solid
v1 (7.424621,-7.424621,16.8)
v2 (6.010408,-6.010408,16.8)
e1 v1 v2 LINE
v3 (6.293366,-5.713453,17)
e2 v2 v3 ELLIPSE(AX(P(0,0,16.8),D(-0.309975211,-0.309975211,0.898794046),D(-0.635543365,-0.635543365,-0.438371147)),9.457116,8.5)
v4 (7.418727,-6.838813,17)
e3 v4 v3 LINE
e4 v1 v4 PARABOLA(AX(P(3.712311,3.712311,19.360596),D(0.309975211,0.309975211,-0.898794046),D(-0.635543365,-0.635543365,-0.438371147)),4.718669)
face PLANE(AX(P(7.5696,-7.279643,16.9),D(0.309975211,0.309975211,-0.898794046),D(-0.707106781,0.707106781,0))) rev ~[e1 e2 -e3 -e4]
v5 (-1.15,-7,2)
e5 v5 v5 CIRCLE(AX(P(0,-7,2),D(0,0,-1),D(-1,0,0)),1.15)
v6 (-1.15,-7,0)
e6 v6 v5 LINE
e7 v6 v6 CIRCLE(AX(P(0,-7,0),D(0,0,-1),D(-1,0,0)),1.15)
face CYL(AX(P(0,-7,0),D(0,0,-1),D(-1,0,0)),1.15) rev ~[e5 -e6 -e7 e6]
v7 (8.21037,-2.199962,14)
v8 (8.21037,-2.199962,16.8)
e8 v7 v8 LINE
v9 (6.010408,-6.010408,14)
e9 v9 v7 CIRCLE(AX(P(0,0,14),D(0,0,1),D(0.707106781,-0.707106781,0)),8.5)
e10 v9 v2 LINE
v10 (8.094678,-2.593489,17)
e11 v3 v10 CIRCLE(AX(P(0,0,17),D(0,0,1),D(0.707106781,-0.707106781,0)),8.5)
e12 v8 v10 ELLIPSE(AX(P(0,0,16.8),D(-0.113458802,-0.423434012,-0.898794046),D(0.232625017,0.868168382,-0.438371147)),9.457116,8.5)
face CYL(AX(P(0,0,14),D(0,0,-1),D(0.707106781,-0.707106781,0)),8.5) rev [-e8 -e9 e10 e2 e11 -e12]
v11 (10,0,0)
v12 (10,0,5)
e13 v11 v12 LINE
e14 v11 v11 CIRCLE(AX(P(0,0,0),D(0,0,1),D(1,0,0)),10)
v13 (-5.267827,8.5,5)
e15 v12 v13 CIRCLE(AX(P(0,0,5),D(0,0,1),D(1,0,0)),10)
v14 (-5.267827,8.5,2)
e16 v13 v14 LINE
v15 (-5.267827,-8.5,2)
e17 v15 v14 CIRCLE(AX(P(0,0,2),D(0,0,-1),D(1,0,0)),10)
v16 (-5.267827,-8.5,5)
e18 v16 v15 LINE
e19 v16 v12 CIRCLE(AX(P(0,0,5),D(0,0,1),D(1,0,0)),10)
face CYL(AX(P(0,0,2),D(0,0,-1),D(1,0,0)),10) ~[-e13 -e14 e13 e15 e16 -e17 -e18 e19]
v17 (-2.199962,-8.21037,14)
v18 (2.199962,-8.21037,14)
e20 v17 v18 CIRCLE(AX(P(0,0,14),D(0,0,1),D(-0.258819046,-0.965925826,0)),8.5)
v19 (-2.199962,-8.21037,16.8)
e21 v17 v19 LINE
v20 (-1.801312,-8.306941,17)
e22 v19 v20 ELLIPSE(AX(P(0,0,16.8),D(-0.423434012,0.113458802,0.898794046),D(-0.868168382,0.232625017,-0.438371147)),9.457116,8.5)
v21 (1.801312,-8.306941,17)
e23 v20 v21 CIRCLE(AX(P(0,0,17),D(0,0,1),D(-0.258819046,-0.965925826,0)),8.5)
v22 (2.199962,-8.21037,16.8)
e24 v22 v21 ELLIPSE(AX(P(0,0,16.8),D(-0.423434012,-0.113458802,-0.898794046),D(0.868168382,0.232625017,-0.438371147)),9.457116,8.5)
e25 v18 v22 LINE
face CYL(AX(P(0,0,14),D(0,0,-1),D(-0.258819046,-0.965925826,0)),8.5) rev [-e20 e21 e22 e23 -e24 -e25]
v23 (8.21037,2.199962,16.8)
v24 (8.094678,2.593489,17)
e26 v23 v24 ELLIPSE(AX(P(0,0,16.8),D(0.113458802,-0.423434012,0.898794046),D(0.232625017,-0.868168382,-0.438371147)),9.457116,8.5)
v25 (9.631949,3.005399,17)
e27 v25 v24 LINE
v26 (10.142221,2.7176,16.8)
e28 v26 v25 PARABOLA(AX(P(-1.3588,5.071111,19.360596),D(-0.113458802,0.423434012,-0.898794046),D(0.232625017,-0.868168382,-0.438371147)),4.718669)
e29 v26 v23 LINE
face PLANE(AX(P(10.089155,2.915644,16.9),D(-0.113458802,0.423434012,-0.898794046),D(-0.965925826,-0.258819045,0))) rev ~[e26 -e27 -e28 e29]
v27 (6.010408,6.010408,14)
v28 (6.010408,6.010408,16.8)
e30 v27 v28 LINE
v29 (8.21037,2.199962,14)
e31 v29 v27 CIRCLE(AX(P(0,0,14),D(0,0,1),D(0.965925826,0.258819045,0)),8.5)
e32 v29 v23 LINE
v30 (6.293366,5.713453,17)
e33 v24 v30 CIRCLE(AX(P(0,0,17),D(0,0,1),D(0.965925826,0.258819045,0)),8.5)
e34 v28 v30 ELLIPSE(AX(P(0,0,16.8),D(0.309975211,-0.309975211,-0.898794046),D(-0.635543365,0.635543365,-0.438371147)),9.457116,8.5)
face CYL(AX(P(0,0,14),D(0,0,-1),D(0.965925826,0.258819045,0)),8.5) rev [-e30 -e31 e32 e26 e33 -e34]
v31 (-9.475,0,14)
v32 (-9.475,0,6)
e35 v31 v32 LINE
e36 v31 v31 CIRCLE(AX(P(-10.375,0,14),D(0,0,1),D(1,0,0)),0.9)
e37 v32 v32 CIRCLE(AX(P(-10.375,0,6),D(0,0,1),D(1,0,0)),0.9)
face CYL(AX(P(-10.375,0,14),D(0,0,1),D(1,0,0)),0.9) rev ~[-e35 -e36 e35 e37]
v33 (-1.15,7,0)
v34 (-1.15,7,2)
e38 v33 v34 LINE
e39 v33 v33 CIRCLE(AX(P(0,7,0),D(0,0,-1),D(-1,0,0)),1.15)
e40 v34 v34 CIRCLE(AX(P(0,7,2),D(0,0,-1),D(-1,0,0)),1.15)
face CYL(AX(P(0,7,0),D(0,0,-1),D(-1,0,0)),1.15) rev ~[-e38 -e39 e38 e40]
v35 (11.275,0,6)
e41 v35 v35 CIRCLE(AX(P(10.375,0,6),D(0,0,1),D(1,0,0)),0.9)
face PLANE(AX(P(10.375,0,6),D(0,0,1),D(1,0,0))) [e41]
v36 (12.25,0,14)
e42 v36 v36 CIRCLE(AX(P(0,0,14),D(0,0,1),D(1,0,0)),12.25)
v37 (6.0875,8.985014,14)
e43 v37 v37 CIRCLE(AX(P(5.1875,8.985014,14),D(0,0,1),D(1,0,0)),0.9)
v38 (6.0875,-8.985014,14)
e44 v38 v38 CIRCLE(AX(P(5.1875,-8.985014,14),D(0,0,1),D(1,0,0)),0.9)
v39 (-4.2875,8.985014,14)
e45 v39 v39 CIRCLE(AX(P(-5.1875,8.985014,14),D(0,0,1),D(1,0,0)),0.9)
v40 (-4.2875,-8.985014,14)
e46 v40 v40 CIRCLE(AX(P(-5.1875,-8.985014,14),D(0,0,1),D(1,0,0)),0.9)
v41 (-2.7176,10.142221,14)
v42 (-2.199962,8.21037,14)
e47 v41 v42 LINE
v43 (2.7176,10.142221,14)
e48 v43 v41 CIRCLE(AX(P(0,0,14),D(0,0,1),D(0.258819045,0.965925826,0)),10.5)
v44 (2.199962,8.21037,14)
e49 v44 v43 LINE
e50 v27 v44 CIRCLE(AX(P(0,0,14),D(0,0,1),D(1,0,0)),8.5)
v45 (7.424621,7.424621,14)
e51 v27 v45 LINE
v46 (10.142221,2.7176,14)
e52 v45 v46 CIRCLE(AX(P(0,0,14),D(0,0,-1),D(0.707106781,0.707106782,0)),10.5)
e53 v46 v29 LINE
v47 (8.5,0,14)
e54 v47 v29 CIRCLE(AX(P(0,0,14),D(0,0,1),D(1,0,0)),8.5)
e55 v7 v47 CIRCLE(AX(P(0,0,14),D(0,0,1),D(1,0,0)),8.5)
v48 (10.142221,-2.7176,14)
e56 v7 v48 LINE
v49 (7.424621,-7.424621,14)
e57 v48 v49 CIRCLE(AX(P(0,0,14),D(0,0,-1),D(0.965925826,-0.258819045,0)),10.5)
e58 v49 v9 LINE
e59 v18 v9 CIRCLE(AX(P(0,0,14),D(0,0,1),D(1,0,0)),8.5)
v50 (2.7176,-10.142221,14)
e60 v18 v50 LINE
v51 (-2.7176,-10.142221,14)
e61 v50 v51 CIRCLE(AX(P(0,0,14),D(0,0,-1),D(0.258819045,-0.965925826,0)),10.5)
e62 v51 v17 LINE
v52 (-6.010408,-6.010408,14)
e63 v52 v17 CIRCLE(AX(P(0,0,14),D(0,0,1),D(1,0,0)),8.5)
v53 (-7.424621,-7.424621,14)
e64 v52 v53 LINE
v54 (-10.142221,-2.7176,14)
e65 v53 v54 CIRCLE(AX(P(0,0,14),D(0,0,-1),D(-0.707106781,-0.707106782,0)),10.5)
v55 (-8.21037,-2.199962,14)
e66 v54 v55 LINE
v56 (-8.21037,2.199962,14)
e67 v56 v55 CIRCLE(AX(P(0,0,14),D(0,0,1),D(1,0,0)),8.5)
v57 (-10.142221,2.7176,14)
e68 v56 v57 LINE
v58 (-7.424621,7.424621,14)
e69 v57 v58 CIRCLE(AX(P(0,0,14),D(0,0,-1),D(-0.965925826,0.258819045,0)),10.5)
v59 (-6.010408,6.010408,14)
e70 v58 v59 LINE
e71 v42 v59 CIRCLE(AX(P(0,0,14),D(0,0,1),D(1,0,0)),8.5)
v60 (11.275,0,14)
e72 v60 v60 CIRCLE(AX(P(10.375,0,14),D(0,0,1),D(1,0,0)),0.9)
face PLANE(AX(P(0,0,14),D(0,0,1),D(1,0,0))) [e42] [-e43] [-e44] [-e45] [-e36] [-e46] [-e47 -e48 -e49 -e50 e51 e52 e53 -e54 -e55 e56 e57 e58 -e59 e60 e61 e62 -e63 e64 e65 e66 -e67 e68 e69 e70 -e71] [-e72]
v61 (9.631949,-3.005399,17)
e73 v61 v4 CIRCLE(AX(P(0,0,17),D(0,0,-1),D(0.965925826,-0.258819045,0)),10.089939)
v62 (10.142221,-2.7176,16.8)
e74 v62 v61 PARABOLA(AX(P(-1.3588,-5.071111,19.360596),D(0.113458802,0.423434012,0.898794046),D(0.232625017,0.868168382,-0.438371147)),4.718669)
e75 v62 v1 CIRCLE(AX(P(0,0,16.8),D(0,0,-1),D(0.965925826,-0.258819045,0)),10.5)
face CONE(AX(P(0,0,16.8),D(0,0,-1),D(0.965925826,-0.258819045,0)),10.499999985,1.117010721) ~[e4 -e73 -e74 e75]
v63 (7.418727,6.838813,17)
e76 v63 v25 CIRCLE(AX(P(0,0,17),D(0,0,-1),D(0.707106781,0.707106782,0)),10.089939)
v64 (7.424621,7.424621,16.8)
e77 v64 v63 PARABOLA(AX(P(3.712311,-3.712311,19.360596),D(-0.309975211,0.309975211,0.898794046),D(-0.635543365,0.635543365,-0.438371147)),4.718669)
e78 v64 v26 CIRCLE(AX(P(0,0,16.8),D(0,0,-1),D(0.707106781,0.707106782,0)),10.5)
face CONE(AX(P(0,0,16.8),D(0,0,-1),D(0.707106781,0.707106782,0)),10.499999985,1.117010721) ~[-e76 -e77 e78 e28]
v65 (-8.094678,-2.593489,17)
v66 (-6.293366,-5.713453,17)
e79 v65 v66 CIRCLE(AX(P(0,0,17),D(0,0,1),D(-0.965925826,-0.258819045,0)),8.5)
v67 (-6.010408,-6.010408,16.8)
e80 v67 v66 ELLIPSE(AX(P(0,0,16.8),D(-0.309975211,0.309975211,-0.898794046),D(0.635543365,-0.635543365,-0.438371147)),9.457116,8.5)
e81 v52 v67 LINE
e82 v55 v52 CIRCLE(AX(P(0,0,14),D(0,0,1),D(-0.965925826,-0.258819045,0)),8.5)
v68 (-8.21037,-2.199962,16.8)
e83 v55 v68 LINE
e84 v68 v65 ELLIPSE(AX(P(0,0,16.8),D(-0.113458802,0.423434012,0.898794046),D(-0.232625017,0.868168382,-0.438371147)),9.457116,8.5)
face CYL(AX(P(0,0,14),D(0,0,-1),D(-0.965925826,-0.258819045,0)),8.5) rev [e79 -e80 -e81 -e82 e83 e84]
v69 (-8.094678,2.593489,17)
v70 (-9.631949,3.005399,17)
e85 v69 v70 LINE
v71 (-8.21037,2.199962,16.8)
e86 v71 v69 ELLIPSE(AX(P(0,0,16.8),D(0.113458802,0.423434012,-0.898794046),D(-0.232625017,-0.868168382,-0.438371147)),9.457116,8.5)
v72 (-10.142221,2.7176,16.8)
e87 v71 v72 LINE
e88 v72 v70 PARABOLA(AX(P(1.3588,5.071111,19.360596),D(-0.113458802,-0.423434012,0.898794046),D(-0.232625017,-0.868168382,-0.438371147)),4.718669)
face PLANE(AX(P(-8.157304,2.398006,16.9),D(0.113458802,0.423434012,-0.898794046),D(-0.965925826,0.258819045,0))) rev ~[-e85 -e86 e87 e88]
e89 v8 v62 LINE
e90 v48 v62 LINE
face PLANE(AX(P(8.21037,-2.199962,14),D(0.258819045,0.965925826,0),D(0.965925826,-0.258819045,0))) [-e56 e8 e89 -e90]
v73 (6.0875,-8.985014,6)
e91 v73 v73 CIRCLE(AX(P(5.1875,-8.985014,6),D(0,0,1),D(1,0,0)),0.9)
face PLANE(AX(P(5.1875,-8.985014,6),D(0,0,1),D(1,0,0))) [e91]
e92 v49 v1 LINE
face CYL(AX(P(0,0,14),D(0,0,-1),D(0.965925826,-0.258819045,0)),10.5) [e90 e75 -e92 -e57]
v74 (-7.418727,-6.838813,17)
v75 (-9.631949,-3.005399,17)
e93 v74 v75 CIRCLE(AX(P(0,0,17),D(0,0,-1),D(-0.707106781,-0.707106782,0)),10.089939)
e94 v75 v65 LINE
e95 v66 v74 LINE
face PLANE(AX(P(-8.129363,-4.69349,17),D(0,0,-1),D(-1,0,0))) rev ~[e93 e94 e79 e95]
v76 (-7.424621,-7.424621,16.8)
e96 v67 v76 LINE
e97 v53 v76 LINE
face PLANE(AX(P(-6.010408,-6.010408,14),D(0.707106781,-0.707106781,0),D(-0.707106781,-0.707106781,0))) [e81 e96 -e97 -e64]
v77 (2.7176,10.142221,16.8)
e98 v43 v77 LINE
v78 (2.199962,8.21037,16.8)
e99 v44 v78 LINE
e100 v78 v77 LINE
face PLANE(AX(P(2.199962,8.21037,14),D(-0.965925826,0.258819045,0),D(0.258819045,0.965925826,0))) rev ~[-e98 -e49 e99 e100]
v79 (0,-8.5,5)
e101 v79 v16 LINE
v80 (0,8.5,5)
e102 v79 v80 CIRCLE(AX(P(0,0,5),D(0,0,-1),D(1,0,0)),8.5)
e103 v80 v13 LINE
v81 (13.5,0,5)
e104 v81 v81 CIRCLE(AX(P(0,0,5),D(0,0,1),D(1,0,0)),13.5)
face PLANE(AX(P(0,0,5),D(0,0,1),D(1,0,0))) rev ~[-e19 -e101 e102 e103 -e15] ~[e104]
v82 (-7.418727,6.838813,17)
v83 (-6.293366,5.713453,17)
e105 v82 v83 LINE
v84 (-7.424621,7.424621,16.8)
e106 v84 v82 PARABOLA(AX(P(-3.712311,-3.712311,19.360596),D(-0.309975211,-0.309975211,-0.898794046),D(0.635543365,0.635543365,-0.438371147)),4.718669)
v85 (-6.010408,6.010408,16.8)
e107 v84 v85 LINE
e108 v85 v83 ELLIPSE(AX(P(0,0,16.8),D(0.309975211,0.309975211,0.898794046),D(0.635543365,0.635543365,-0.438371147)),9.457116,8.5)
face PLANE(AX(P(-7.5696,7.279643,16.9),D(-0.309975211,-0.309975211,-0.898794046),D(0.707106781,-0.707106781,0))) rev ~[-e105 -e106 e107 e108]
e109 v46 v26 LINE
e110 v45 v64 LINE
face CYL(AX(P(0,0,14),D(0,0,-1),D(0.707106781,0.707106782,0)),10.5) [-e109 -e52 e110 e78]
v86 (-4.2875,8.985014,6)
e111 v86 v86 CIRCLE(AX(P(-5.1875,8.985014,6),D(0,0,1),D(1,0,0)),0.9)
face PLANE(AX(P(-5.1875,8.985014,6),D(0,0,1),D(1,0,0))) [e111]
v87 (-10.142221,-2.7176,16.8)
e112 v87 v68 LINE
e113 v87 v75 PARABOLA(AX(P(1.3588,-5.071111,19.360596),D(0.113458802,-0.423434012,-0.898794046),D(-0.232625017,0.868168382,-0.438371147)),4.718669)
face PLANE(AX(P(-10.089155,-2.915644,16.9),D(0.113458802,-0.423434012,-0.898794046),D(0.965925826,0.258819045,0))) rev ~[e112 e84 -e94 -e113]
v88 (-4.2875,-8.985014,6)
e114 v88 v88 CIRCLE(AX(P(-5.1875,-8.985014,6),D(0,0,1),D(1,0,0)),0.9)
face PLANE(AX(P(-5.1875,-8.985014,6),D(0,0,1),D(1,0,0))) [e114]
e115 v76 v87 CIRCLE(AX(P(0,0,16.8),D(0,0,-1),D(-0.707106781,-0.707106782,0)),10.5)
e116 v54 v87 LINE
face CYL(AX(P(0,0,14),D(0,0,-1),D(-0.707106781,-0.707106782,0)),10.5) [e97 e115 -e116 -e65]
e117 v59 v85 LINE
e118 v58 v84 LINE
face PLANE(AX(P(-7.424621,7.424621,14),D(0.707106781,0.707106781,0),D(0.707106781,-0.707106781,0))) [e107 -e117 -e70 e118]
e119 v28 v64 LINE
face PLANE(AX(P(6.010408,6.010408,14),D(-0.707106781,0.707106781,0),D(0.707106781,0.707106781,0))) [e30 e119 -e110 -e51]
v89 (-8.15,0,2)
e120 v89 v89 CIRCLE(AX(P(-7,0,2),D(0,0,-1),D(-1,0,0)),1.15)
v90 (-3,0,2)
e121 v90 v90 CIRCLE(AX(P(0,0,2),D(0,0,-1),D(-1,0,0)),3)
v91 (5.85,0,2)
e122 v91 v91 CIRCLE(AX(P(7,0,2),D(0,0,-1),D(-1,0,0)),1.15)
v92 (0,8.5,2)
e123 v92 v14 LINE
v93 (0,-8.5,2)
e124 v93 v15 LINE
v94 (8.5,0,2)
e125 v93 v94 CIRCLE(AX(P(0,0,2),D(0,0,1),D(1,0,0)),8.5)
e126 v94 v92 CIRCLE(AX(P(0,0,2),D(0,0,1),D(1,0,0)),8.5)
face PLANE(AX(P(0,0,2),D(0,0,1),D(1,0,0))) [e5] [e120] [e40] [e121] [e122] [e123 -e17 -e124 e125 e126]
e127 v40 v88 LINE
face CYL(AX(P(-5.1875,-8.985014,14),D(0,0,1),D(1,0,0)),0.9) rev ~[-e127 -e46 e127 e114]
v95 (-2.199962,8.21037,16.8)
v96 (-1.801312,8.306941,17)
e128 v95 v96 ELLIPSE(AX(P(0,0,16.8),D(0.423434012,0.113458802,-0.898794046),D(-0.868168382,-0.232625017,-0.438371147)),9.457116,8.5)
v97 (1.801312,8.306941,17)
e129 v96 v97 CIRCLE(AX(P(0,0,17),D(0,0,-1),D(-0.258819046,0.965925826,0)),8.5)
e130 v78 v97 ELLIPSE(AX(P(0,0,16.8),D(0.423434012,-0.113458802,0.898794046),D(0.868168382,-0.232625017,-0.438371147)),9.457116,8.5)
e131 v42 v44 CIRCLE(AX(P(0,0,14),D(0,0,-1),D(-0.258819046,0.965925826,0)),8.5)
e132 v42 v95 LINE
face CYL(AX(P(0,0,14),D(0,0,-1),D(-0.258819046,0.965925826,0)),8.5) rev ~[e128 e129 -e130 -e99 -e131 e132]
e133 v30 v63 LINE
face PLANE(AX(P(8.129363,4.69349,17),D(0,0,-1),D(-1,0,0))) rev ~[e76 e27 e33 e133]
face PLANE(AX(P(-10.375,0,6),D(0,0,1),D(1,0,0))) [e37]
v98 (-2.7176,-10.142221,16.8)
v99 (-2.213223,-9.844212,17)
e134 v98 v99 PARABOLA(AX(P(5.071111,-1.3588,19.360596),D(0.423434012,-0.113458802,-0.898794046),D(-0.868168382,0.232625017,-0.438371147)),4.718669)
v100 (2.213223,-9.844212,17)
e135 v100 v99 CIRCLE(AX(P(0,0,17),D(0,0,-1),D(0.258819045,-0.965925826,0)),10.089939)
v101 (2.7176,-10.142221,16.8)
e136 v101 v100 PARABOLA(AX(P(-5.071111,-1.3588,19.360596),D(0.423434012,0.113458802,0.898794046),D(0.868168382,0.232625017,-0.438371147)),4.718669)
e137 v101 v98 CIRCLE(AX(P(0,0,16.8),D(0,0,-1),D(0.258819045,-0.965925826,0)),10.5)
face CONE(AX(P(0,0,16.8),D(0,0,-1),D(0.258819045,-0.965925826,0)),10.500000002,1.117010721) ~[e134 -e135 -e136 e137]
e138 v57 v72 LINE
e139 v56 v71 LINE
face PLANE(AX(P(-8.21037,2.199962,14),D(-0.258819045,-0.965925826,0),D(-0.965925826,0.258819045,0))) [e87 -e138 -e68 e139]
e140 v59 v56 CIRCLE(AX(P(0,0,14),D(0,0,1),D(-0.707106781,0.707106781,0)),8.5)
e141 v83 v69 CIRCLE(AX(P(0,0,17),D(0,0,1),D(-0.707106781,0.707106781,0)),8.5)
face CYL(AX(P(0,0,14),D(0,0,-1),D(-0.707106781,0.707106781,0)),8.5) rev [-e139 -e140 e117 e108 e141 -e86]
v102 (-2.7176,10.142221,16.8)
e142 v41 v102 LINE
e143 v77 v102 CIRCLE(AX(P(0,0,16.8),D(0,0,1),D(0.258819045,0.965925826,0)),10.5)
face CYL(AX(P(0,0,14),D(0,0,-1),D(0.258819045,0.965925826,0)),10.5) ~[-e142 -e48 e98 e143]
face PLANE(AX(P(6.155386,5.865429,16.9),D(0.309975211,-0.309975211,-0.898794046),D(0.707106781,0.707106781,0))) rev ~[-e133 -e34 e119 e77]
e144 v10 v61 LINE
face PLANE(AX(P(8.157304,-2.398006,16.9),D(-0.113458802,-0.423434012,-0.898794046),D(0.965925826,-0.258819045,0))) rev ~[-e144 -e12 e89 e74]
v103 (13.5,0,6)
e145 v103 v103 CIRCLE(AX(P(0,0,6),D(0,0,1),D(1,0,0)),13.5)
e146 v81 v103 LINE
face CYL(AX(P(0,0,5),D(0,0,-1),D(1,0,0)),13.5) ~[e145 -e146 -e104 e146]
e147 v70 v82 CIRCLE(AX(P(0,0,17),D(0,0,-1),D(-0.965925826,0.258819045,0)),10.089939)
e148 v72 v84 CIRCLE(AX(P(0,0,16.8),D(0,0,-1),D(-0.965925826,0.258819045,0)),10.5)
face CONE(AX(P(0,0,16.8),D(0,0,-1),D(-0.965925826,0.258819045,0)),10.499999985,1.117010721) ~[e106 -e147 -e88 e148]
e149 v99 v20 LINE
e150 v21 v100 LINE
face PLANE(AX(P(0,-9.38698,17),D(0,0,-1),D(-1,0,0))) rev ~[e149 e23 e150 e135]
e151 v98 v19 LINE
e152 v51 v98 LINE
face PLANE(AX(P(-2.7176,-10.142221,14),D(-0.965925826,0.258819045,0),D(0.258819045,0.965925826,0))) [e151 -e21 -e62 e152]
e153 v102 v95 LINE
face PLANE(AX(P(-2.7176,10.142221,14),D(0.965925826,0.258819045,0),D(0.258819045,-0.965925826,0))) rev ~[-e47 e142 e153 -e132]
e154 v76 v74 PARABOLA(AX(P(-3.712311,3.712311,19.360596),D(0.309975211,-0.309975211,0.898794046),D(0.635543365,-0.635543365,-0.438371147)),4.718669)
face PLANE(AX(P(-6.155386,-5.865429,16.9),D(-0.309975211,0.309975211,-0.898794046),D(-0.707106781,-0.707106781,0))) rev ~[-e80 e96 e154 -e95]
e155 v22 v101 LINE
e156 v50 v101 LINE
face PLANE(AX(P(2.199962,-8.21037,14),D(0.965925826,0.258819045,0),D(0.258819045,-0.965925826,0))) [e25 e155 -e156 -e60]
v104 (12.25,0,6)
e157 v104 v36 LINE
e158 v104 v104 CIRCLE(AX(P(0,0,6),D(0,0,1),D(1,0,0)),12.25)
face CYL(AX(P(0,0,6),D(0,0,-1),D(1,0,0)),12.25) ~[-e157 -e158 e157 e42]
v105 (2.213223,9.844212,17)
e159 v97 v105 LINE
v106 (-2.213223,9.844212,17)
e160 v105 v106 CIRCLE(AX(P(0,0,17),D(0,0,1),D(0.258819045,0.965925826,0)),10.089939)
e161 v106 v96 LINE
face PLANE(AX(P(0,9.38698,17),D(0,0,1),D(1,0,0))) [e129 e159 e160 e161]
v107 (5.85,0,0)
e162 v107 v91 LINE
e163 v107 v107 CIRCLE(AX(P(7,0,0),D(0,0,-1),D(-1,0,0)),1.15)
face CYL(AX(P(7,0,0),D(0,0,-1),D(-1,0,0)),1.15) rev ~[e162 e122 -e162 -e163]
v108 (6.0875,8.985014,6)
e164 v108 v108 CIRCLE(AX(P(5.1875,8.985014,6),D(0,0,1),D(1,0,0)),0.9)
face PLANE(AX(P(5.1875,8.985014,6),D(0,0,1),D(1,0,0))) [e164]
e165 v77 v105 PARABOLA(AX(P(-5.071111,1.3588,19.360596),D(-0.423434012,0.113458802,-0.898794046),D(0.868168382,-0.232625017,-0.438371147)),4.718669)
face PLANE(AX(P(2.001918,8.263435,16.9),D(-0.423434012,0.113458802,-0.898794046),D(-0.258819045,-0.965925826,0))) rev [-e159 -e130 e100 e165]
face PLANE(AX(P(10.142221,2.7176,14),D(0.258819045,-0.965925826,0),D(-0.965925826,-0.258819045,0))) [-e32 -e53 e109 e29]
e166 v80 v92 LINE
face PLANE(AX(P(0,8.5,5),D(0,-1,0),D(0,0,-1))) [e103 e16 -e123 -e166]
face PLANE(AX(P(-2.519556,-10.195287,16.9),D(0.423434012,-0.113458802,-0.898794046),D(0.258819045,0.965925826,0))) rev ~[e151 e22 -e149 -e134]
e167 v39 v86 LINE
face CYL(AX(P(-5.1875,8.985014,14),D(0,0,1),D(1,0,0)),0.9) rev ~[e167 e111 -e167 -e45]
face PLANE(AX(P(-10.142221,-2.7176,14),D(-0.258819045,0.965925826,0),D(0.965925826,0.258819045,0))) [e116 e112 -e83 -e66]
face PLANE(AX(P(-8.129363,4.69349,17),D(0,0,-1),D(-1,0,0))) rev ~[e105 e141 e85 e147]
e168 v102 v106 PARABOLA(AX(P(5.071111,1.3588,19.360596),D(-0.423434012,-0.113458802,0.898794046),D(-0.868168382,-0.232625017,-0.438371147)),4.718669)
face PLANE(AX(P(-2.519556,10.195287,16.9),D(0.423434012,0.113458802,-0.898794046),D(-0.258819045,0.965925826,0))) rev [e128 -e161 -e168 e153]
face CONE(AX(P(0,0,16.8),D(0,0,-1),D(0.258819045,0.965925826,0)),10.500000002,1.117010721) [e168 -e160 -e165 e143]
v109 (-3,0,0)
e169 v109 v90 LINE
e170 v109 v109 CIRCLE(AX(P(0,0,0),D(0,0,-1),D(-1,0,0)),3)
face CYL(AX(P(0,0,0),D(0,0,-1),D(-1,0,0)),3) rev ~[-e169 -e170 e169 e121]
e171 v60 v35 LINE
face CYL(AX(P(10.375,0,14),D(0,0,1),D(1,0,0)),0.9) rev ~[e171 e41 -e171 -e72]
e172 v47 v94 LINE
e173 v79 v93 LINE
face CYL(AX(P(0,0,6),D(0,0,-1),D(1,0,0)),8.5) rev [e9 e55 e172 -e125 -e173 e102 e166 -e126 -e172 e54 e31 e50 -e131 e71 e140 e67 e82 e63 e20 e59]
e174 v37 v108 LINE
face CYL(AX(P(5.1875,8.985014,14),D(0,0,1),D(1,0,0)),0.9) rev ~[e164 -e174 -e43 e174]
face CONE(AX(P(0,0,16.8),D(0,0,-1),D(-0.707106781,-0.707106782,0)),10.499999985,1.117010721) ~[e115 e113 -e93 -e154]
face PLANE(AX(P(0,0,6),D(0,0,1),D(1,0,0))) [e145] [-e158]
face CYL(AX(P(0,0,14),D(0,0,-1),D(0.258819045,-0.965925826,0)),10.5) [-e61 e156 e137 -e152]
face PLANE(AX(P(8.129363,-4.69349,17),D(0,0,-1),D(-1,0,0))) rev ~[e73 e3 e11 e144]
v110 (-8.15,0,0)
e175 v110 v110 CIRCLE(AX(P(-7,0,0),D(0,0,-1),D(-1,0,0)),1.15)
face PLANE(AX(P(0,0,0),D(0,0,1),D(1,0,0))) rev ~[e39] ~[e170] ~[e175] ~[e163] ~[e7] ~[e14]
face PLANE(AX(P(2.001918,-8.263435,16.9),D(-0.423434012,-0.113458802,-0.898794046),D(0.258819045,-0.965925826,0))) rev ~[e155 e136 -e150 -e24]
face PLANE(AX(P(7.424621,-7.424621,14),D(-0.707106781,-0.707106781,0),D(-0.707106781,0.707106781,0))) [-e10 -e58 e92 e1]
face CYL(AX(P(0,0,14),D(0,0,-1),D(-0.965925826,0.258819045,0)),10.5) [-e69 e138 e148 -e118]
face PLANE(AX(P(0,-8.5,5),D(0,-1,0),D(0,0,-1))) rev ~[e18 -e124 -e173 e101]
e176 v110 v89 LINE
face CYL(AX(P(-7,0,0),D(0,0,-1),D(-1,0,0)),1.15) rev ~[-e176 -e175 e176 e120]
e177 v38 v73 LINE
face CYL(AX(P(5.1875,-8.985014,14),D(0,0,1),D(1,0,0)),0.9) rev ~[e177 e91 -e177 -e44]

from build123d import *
from OCP.BRepFilletAPI import BRepFilletAPI_MakeChamfer

# Parameters (mm, degrees)
SKETCH_1_R          = 10
EXTRUDE_1_DEPTH     = 2
SKETCH_2_R          = 10
SKETCH_2_R_2        = 8.5
EXTRUDE_2_DEPTH     = 3
SKETCH_4_R          = 13.5
SKETCH_4_R_2        = 8.5
EXTRUDE_3_DEPTH     = 1
SKETCH_5_R          = 12.25
SKETCH_5_R_2        = 8.5
EXTRUDE_4_DEPTH     = 8
SKETCH_6_R          = 0.9
CUT_EXTRUDE_1_DEPTH = 8
SKETCH_7_R          = 3
SKETCH_7_R_2        = 1.15
CUT_EXTRUDE_2_DEPTH = 24.674881204
SKETCH_9_W          = 3
SKETCH_9_H          = 17
CUT_EXTRUDE_4_DEPTH = 24.674881204
EXTRUDE_5_DEPTH     = 3
CHAMFER_1_SIZE      = 0.2
CHAMFER_1_SIZE2     = 0.410060768


with BuildPart() as part:
    # 스케치1 → 보스-돌출1 (new body)
    with BuildSketch(Plane.XY):
        Circle(SKETCH_1_R)
    extrude(amount=EXTRUDE_1_DEPTH)

    # 스케치2 → 보스-돌출2 (add)
    with BuildSketch(Plane.XY.offset(2)):
        Circle(SKETCH_2_R)
        Circle(SKETCH_2_R_2, mode=Mode.SUBTRACT)
    extrude(amount=EXTRUDE_2_DEPTH)

    # 스케치4 → 보스-돌출3 (add)
    with BuildSketch(Plane.XY.offset(5)):
        Circle(SKETCH_4_R)
        Circle(SKETCH_4_R_2, mode=Mode.SUBTRACT)
    extrude(amount=EXTRUDE_3_DEPTH)

    # 스케치5 → 보스-돌출4 (add)
    with BuildSketch(Plane.XY.offset(6)):
        Circle(SKETCH_5_R)
        Circle(SKETCH_5_R_2, mode=Mode.SUBTRACT)
    extrude(amount=EXTRUDE_4_DEPTH)

    # 스케치6 → 컷-돌출1 (cut)
    with BuildSketch(Plane.XY.offset(14)):
        with Locations((10.375, 0)):
            Circle(SKETCH_6_R)
        with Locations((5.1875, -8.985013564)):
            Circle(SKETCH_6_R)
        with Locations((-5.1875, -8.985013564)):
            Circle(SKETCH_6_R)
        with Locations((-10.375, 0)):
            Circle(SKETCH_6_R)
        with Locations((-5.1875, 8.985013564)):
            Circle(SKETCH_6_R)
        with Locations((5.1875, 8.985013564)):
            Circle(SKETCH_6_R)
    extrude(amount=-CUT_EXTRUDE_1_DEPTH, mode=Mode.SUBTRACT)

    # 스케치7 → 컷-돌출2 (cut, through all)
    with BuildSketch(Plane(origin=(0, 0, 0), x_dir=(-1, 0, 0), z_dir=(0, 0, -1))):
        Circle(SKETCH_7_R)
        with Locations((-7, 0)):
            Circle(SKETCH_7_R_2)
        with Locations((7, 0)):
            Circle(SKETCH_7_R_2)
        with Locations((0, 7)):
            Circle(SKETCH_7_R_2)
        with Locations((0, -7)):
            Circle(SKETCH_7_R_2)
    extrude(amount=-CUT_EXTRUDE_2_DEPTH, mode=Mode.SUBTRACT)

    # 스케치9 → 컷-돌출4 (cut, through all)
    with BuildSketch(Plane(origin=(0, 0, 0), x_dir=(0, 0, -1), z_dir=(1, 0, 0))):
        with Locations((-3.5, 0)):
            Rectangle(SKETCH_9_W, SKETCH_9_H)
    extrude(amount=-CUT_EXTRUDE_4_DEPTH, mode=Mode.SUBTRACT)

    # 스케치10 → 보스-돌출5 (add)
    with BuildSketch(Plane.XY.offset(14)):
        with BuildLine():
            Line((2.199961883, 8.210369523), (2.717599974, 10.142221176))
            ThreePointArc((2.717599974, 10.142221176), (0, 10.5), (-2.717599974, 10.142221176))
            Line((-2.717599974, 10.142221176), (-2.199961883, 8.210369523))
            ThreePointArc((-2.199961883, 8.210369523), (0, 8.5), (2.199961883, 8.210369523))
        make_face()
        with BuildLine():
            Line((6.01040764, 6.01040764), (7.424621202, 7.424621202))
            ThreePointArc((7.424621202, 7.424621202), (9.09326674, 5.25), (10.142221176, 2.717599974))
            Line((10.142221176, 2.717599974), (8.210369523, 2.199961883))
            ThreePointArc((8.210369523, 2.199961883), (7.361215932, 4.25), (6.01040764, 6.01040764))
        make_face()
        with BuildLine():
            Line((8.210369523, -2.199961883), (10.142221176, -2.717599974))
            ThreePointArc((10.142221176, -2.717599974), (9.09326674, -5.25), (7.424621202, -7.424621202))
            Line((7.424621202, -7.424621202), (6.01040764, -6.01040764))
            ThreePointArc((6.01040764, -6.01040764), (7.361215932, -4.25), (8.210369523, -2.199961883))
        make_face()
        with BuildLine():
            Line((2.199961883, -8.210369523), (2.717599974, -10.142221176))
            ThreePointArc((2.717599974, -10.142221176), (0, -10.5), (-2.717599974, -10.142221176))
            Line((-2.717599974, -10.142221176), (-2.199961883, -8.210369523))
            ThreePointArc((-2.199961883, -8.210369523), (0, -8.5), (2.199961883, -8.210369523))
        make_face()
        with BuildLine():
            Line((-6.01040764, -6.01040764), (-7.424621202, -7.424621202))
            ThreePointArc((-7.424621202, -7.424621202), (-9.09326674, -5.25), (-10.142221176, -2.717599974))
            Line((-10.142221176, -2.717599974), (-8.210369523, -2.199961883))
            ThreePointArc((-8.210369523, -2.199961883), (-7.361215932, -4.25), (-6.01040764, -6.01040764))
        make_face()
        with BuildLine():
            Line((-8.210369523, 2.199961883), (-10.142221176, 2.717599974))
            ThreePointArc((-10.142221176, 2.717599974), (-9.09326674, 5.25), (-7.424621202, 7.424621202))
            Line((-7.424621202, 7.424621202), (-6.01040764, 6.01040764))
            ThreePointArc((-6.01040764, 6.01040764), (-7.361215932, 4.25), (-8.210369523, 2.199961883))
        make_face()
    extrude(amount=EXTRUDE_5_DEPTH)

    # 모따기1: one chamfer whose edges measure the first distance from different faces: ONE call of the kernel's chamfer builder (chamfer() names one face for all edges)
    chamfer_1_edges_1 = [part.edges().sort_by_distance(p)[0] for p in [
        (-6.717514421, 6.717514421, 17),
    ]]
    chamfer_1_side_1 = [part.faces().sort_by_distance(p)[0] for p in [
        (-6.717514421, 6.717514421, 15.5),
    ]]
    chamfer_1_edges_2 = [part.edges().sort_by_distance(p)[0] for p in [
        (-9.09326674, 5.25, 17),
    ]]
    chamfer_1_side_2 = [part.faces().sort_by_distance(p)[0] for p in [
        (-9.09326674, 5.25, 15.5),
    ]]
    chamfer_1_edges_3 = [part.edges().sort_by_distance(p)[0] for p in [
        (-9.17629535, 2.458780928, 17),
    ]]
    chamfer_1_side_3 = [part.faces().sort_by_distance(p)[0] for p in [
        (-9.17629535, 2.458780928, 15.5),
    ]]
    chamfer_1_edges_4 = [part.edges().sort_by_distance(p)[0] for p in [
        (-9.17629535, -2.458780928, 17),
    ]]
    chamfer_1_side_4 = [part.faces().sort_by_distance(p)[0] for p in [
        (-9.17629535, -2.458780928, 15.5),
    ]]
    chamfer_1_edges_5 = [part.edges().sort_by_distance(p)[0] for p in [
        (-9.09326674, -5.25, 17),
    ]]
    chamfer_1_side_5 = [part.faces().sort_by_distance(p)[0] for p in [
        (-9.09326674, -5.25, 15.5),
    ]]
    chamfer_1_edges_6 = [part.edges().sort_by_distance(p)[0] for p in [
        (-6.717514421, -6.717514421, 17),
    ]]
    chamfer_1_side_6 = [part.faces().sort_by_distance(p)[0] for p in [
        (-6.717514421, -6.717514421, 15.5),
    ]]
    chamfer_1_edges_7 = [part.edges().sort_by_distance(p)[0] for p in [
        (0, 10.5, 17),
    ]]
    chamfer_1_side_7 = [part.faces().sort_by_distance(p)[0] for p in [
        (0, 10.5, 15.5),
    ]]
    chamfer_1_edges_8 = [part.edges().sort_by_distance(p)[0] for p in [
        (-2.458780928, 9.17629535, 17),
    ]]
    chamfer_1_side_8 = [part.faces().sort_by_distance(p)[0] for p in [
        (-2.458780928, 9.17629535, 15.5),
    ]]
    chamfer_1_edges_9 = [part.edges().sort_by_distance(p)[0] for p in [
        (2.458780928, 9.17629535, 17),
    ]]
    chamfer_1_side_9 = [part.faces().sort_by_distance(p)[0] for p in [
        (2.458780928, 9.17629535, 15.5),
    ]]
    chamfer_1_edges_10 = [part.edges().sort_by_distance(p)[0] for p in [
        (-2.458780928, -9.17629535, 17),
    ]]
    chamfer_1_side_10 = [part.faces().sort_by_distance(p)[0] for p in [
        (-2.458780928, -9.17629535, 15.5),
    ]]
    chamfer_1_edges_11 = [part.edges().sort_by_distance(p)[0] for p in [
        (0, -10.5, 17),
    ]]
    chamfer_1_side_11 = [part.faces().sort_by_distance(p)[0] for p in [
        (0, -10.5, 15.5),
    ]]
    chamfer_1_edges_12 = [part.edges().sort_by_distance(p)[0] for p in [
        (2.458780928, -9.17629535, 17),
    ]]
    chamfer_1_side_12 = [part.faces().sort_by_distance(p)[0] for p in [
        (2.458780928, -9.17629535, 15.5),
    ]]
    chamfer_1_edges_13 = [part.edges().sort_by_distance(p)[0] for p in [
        (9.09326674, 5.25, 17),
    ]]
    chamfer_1_side_13 = [part.faces().sort_by_distance(p)[0] for p in [
        (9.09326674, 5.25, 15.5),
    ]]
    chamfer_1_edges_14 = [part.edges().sort_by_distance(p)[0] for p in [
        (6.717514421, 6.717514421, 17),
    ]]
    chamfer_1_side_14 = [part.faces().sort_by_distance(p)[0] for p in [
        (6.717514421, 6.717514421, 15.5),
    ]]
    chamfer_1_edges_15 = [part.edges().sort_by_distance(p)[0] for p in [
        (9.17629535, 2.458780928, 17),
    ]]
    chamfer_1_side_15 = [part.faces().sort_by_distance(p)[0] for p in [
        (9.17629535, 2.458780928, 15.5),
    ]]
    chamfer_1_edges_16 = [part.edges().sort_by_distance(p)[0] for p in [
        (6.717514421, -6.717514421, 17),
    ]]
    chamfer_1_side_16 = [part.faces().sort_by_distance(p)[0] for p in [
        (6.717514421, -6.717514421, 15.5),
    ]]
    chamfer_1_edges_17 = [part.edges().sort_by_distance(p)[0] for p in [
        (9.09326674, -5.25, 17),
    ]]
    chamfer_1_side_17 = [part.faces().sort_by_distance(p)[0] for p in [
        (9.09326674, -5.25, 15.5),
    ]]
    chamfer_1_edges_18 = [part.edges().sort_by_distance(p)[0] for p in [
        (9.17629535, -2.458780928, 17),
    ]]
    chamfer_1_side_18 = [part.faces().sort_by_distance(p)[0] for p in [
        (9.17629535, -2.458780928, 15.5),
    ]]
    chamfer_1 = BRepFilletAPI_MakeChamfer(part.part.solid().wrapped)
    for e in chamfer_1_edges_1:
        chamfer_1.Add(CHAMFER_1_SIZE, CHAMFER_1_SIZE2, e.wrapped, chamfer_1_side_1[0].wrapped)  # the first distance lies on this face
    for e in chamfer_1_edges_2:
        chamfer_1.Add(CHAMFER_1_SIZE, CHAMFER_1_SIZE2, e.wrapped, chamfer_1_side_2[0].wrapped)  # the first distance lies on this face
    for e in chamfer_1_edges_3:
        chamfer_1.Add(CHAMFER_1_SIZE, CHAMFER_1_SIZE2, e.wrapped, chamfer_1_side_3[0].wrapped)  # the first distance lies on this face
    for e in chamfer_1_edges_4:
        chamfer_1.Add(CHAMFER_1_SIZE, CHAMFER_1_SIZE2, e.wrapped, chamfer_1_side_4[0].wrapped)  # the first distance lies on this face
    for e in chamfer_1_edges_5:
        chamfer_1.Add(CHAMFER_1_SIZE, CHAMFER_1_SIZE2, e.wrapped, chamfer_1_side_5[0].wrapped)  # the first distance lies on this face
    for e in chamfer_1_edges_6:
        chamfer_1.Add(CHAMFER_1_SIZE, CHAMFER_1_SIZE2, e.wrapped, chamfer_1_side_6[0].wrapped)  # the first distance lies on this face
    for e in chamfer_1_edges_7:
        chamfer_1.Add(CHAMFER_1_SIZE, CHAMFER_1_SIZE2, e.wrapped, chamfer_1_side_7[0].wrapped)  # the first distance lies on this face
    for e in chamfer_1_edges_8:
        chamfer_1.Add(CHAMFER_1_SIZE, CHAMFER_1_SIZE2, e.wrapped, chamfer_1_side_8[0].wrapped)  # the first distance lies on this face
    for e in chamfer_1_edges_9:
        chamfer_1.Add(CHAMFER_1_SIZE, CHAMFER_1_SIZE2, e.wrapped, chamfer_1_side_9[0].wrapped)  # the first distance lies on this face
    for e in chamfer_1_edges_10:
        chamfer_1.Add(CHAMFER_1_SIZE, CHAMFER_1_SIZE2, e.wrapped, chamfer_1_side_10[0].wrapped)  # the first distance lies on this face
    for e in chamfer_1_edges_11:
        chamfer_1.Add(CHAMFER_1_SIZE, CHAMFER_1_SIZE2, e.wrapped, chamfer_1_side_11[0].wrapped)  # the first distance lies on this face
    for e in chamfer_1_edges_12:
        chamfer_1.Add(CHAMFER_1_SIZE, CHAMFER_1_SIZE2, e.wrapped, chamfer_1_side_12[0].wrapped)  # the first distance lies on this face
    for e in chamfer_1_edges_13:
        chamfer_1.Add(CHAMFER_1_SIZE, CHAMFER_1_SIZE2, e.wrapped, chamfer_1_side_13[0].wrapped)  # the first distance lies on this face
    for e in chamfer_1_edges_14:
        chamfer_1.Add(CHAMFER_1_SIZE, CHAMFER_1_SIZE2, e.wrapped, chamfer_1_side_14[0].wrapped)  # the first distance lies on this face
    for e in chamfer_1_edges_15:
        chamfer_1.Add(CHAMFER_1_SIZE, CHAMFER_1_SIZE2, e.wrapped, chamfer_1_side_15[0].wrapped)  # the first distance lies on this face
    for e in chamfer_1_edges_16:
        chamfer_1.Add(CHAMFER_1_SIZE, CHAMFER_1_SIZE2, e.wrapped, chamfer_1_side_16[0].wrapped)  # the first distance lies on this face
    for e in chamfer_1_edges_17:
        chamfer_1.Add(CHAMFER_1_SIZE, CHAMFER_1_SIZE2, e.wrapped, chamfer_1_side_17[0].wrapped)  # the first distance lies on this face
    for e in chamfer_1_edges_18:
        chamfer_1.Add(CHAMFER_1_SIZE, CHAMFER_1_SIZE2, e.wrapped, chamfer_1_side_18[0].wrapped)  # the first distance lies on this face
    add(Compound.cast(chamfer_1.Shape()), mode=Mode.REPLACE)


solid = part.part
